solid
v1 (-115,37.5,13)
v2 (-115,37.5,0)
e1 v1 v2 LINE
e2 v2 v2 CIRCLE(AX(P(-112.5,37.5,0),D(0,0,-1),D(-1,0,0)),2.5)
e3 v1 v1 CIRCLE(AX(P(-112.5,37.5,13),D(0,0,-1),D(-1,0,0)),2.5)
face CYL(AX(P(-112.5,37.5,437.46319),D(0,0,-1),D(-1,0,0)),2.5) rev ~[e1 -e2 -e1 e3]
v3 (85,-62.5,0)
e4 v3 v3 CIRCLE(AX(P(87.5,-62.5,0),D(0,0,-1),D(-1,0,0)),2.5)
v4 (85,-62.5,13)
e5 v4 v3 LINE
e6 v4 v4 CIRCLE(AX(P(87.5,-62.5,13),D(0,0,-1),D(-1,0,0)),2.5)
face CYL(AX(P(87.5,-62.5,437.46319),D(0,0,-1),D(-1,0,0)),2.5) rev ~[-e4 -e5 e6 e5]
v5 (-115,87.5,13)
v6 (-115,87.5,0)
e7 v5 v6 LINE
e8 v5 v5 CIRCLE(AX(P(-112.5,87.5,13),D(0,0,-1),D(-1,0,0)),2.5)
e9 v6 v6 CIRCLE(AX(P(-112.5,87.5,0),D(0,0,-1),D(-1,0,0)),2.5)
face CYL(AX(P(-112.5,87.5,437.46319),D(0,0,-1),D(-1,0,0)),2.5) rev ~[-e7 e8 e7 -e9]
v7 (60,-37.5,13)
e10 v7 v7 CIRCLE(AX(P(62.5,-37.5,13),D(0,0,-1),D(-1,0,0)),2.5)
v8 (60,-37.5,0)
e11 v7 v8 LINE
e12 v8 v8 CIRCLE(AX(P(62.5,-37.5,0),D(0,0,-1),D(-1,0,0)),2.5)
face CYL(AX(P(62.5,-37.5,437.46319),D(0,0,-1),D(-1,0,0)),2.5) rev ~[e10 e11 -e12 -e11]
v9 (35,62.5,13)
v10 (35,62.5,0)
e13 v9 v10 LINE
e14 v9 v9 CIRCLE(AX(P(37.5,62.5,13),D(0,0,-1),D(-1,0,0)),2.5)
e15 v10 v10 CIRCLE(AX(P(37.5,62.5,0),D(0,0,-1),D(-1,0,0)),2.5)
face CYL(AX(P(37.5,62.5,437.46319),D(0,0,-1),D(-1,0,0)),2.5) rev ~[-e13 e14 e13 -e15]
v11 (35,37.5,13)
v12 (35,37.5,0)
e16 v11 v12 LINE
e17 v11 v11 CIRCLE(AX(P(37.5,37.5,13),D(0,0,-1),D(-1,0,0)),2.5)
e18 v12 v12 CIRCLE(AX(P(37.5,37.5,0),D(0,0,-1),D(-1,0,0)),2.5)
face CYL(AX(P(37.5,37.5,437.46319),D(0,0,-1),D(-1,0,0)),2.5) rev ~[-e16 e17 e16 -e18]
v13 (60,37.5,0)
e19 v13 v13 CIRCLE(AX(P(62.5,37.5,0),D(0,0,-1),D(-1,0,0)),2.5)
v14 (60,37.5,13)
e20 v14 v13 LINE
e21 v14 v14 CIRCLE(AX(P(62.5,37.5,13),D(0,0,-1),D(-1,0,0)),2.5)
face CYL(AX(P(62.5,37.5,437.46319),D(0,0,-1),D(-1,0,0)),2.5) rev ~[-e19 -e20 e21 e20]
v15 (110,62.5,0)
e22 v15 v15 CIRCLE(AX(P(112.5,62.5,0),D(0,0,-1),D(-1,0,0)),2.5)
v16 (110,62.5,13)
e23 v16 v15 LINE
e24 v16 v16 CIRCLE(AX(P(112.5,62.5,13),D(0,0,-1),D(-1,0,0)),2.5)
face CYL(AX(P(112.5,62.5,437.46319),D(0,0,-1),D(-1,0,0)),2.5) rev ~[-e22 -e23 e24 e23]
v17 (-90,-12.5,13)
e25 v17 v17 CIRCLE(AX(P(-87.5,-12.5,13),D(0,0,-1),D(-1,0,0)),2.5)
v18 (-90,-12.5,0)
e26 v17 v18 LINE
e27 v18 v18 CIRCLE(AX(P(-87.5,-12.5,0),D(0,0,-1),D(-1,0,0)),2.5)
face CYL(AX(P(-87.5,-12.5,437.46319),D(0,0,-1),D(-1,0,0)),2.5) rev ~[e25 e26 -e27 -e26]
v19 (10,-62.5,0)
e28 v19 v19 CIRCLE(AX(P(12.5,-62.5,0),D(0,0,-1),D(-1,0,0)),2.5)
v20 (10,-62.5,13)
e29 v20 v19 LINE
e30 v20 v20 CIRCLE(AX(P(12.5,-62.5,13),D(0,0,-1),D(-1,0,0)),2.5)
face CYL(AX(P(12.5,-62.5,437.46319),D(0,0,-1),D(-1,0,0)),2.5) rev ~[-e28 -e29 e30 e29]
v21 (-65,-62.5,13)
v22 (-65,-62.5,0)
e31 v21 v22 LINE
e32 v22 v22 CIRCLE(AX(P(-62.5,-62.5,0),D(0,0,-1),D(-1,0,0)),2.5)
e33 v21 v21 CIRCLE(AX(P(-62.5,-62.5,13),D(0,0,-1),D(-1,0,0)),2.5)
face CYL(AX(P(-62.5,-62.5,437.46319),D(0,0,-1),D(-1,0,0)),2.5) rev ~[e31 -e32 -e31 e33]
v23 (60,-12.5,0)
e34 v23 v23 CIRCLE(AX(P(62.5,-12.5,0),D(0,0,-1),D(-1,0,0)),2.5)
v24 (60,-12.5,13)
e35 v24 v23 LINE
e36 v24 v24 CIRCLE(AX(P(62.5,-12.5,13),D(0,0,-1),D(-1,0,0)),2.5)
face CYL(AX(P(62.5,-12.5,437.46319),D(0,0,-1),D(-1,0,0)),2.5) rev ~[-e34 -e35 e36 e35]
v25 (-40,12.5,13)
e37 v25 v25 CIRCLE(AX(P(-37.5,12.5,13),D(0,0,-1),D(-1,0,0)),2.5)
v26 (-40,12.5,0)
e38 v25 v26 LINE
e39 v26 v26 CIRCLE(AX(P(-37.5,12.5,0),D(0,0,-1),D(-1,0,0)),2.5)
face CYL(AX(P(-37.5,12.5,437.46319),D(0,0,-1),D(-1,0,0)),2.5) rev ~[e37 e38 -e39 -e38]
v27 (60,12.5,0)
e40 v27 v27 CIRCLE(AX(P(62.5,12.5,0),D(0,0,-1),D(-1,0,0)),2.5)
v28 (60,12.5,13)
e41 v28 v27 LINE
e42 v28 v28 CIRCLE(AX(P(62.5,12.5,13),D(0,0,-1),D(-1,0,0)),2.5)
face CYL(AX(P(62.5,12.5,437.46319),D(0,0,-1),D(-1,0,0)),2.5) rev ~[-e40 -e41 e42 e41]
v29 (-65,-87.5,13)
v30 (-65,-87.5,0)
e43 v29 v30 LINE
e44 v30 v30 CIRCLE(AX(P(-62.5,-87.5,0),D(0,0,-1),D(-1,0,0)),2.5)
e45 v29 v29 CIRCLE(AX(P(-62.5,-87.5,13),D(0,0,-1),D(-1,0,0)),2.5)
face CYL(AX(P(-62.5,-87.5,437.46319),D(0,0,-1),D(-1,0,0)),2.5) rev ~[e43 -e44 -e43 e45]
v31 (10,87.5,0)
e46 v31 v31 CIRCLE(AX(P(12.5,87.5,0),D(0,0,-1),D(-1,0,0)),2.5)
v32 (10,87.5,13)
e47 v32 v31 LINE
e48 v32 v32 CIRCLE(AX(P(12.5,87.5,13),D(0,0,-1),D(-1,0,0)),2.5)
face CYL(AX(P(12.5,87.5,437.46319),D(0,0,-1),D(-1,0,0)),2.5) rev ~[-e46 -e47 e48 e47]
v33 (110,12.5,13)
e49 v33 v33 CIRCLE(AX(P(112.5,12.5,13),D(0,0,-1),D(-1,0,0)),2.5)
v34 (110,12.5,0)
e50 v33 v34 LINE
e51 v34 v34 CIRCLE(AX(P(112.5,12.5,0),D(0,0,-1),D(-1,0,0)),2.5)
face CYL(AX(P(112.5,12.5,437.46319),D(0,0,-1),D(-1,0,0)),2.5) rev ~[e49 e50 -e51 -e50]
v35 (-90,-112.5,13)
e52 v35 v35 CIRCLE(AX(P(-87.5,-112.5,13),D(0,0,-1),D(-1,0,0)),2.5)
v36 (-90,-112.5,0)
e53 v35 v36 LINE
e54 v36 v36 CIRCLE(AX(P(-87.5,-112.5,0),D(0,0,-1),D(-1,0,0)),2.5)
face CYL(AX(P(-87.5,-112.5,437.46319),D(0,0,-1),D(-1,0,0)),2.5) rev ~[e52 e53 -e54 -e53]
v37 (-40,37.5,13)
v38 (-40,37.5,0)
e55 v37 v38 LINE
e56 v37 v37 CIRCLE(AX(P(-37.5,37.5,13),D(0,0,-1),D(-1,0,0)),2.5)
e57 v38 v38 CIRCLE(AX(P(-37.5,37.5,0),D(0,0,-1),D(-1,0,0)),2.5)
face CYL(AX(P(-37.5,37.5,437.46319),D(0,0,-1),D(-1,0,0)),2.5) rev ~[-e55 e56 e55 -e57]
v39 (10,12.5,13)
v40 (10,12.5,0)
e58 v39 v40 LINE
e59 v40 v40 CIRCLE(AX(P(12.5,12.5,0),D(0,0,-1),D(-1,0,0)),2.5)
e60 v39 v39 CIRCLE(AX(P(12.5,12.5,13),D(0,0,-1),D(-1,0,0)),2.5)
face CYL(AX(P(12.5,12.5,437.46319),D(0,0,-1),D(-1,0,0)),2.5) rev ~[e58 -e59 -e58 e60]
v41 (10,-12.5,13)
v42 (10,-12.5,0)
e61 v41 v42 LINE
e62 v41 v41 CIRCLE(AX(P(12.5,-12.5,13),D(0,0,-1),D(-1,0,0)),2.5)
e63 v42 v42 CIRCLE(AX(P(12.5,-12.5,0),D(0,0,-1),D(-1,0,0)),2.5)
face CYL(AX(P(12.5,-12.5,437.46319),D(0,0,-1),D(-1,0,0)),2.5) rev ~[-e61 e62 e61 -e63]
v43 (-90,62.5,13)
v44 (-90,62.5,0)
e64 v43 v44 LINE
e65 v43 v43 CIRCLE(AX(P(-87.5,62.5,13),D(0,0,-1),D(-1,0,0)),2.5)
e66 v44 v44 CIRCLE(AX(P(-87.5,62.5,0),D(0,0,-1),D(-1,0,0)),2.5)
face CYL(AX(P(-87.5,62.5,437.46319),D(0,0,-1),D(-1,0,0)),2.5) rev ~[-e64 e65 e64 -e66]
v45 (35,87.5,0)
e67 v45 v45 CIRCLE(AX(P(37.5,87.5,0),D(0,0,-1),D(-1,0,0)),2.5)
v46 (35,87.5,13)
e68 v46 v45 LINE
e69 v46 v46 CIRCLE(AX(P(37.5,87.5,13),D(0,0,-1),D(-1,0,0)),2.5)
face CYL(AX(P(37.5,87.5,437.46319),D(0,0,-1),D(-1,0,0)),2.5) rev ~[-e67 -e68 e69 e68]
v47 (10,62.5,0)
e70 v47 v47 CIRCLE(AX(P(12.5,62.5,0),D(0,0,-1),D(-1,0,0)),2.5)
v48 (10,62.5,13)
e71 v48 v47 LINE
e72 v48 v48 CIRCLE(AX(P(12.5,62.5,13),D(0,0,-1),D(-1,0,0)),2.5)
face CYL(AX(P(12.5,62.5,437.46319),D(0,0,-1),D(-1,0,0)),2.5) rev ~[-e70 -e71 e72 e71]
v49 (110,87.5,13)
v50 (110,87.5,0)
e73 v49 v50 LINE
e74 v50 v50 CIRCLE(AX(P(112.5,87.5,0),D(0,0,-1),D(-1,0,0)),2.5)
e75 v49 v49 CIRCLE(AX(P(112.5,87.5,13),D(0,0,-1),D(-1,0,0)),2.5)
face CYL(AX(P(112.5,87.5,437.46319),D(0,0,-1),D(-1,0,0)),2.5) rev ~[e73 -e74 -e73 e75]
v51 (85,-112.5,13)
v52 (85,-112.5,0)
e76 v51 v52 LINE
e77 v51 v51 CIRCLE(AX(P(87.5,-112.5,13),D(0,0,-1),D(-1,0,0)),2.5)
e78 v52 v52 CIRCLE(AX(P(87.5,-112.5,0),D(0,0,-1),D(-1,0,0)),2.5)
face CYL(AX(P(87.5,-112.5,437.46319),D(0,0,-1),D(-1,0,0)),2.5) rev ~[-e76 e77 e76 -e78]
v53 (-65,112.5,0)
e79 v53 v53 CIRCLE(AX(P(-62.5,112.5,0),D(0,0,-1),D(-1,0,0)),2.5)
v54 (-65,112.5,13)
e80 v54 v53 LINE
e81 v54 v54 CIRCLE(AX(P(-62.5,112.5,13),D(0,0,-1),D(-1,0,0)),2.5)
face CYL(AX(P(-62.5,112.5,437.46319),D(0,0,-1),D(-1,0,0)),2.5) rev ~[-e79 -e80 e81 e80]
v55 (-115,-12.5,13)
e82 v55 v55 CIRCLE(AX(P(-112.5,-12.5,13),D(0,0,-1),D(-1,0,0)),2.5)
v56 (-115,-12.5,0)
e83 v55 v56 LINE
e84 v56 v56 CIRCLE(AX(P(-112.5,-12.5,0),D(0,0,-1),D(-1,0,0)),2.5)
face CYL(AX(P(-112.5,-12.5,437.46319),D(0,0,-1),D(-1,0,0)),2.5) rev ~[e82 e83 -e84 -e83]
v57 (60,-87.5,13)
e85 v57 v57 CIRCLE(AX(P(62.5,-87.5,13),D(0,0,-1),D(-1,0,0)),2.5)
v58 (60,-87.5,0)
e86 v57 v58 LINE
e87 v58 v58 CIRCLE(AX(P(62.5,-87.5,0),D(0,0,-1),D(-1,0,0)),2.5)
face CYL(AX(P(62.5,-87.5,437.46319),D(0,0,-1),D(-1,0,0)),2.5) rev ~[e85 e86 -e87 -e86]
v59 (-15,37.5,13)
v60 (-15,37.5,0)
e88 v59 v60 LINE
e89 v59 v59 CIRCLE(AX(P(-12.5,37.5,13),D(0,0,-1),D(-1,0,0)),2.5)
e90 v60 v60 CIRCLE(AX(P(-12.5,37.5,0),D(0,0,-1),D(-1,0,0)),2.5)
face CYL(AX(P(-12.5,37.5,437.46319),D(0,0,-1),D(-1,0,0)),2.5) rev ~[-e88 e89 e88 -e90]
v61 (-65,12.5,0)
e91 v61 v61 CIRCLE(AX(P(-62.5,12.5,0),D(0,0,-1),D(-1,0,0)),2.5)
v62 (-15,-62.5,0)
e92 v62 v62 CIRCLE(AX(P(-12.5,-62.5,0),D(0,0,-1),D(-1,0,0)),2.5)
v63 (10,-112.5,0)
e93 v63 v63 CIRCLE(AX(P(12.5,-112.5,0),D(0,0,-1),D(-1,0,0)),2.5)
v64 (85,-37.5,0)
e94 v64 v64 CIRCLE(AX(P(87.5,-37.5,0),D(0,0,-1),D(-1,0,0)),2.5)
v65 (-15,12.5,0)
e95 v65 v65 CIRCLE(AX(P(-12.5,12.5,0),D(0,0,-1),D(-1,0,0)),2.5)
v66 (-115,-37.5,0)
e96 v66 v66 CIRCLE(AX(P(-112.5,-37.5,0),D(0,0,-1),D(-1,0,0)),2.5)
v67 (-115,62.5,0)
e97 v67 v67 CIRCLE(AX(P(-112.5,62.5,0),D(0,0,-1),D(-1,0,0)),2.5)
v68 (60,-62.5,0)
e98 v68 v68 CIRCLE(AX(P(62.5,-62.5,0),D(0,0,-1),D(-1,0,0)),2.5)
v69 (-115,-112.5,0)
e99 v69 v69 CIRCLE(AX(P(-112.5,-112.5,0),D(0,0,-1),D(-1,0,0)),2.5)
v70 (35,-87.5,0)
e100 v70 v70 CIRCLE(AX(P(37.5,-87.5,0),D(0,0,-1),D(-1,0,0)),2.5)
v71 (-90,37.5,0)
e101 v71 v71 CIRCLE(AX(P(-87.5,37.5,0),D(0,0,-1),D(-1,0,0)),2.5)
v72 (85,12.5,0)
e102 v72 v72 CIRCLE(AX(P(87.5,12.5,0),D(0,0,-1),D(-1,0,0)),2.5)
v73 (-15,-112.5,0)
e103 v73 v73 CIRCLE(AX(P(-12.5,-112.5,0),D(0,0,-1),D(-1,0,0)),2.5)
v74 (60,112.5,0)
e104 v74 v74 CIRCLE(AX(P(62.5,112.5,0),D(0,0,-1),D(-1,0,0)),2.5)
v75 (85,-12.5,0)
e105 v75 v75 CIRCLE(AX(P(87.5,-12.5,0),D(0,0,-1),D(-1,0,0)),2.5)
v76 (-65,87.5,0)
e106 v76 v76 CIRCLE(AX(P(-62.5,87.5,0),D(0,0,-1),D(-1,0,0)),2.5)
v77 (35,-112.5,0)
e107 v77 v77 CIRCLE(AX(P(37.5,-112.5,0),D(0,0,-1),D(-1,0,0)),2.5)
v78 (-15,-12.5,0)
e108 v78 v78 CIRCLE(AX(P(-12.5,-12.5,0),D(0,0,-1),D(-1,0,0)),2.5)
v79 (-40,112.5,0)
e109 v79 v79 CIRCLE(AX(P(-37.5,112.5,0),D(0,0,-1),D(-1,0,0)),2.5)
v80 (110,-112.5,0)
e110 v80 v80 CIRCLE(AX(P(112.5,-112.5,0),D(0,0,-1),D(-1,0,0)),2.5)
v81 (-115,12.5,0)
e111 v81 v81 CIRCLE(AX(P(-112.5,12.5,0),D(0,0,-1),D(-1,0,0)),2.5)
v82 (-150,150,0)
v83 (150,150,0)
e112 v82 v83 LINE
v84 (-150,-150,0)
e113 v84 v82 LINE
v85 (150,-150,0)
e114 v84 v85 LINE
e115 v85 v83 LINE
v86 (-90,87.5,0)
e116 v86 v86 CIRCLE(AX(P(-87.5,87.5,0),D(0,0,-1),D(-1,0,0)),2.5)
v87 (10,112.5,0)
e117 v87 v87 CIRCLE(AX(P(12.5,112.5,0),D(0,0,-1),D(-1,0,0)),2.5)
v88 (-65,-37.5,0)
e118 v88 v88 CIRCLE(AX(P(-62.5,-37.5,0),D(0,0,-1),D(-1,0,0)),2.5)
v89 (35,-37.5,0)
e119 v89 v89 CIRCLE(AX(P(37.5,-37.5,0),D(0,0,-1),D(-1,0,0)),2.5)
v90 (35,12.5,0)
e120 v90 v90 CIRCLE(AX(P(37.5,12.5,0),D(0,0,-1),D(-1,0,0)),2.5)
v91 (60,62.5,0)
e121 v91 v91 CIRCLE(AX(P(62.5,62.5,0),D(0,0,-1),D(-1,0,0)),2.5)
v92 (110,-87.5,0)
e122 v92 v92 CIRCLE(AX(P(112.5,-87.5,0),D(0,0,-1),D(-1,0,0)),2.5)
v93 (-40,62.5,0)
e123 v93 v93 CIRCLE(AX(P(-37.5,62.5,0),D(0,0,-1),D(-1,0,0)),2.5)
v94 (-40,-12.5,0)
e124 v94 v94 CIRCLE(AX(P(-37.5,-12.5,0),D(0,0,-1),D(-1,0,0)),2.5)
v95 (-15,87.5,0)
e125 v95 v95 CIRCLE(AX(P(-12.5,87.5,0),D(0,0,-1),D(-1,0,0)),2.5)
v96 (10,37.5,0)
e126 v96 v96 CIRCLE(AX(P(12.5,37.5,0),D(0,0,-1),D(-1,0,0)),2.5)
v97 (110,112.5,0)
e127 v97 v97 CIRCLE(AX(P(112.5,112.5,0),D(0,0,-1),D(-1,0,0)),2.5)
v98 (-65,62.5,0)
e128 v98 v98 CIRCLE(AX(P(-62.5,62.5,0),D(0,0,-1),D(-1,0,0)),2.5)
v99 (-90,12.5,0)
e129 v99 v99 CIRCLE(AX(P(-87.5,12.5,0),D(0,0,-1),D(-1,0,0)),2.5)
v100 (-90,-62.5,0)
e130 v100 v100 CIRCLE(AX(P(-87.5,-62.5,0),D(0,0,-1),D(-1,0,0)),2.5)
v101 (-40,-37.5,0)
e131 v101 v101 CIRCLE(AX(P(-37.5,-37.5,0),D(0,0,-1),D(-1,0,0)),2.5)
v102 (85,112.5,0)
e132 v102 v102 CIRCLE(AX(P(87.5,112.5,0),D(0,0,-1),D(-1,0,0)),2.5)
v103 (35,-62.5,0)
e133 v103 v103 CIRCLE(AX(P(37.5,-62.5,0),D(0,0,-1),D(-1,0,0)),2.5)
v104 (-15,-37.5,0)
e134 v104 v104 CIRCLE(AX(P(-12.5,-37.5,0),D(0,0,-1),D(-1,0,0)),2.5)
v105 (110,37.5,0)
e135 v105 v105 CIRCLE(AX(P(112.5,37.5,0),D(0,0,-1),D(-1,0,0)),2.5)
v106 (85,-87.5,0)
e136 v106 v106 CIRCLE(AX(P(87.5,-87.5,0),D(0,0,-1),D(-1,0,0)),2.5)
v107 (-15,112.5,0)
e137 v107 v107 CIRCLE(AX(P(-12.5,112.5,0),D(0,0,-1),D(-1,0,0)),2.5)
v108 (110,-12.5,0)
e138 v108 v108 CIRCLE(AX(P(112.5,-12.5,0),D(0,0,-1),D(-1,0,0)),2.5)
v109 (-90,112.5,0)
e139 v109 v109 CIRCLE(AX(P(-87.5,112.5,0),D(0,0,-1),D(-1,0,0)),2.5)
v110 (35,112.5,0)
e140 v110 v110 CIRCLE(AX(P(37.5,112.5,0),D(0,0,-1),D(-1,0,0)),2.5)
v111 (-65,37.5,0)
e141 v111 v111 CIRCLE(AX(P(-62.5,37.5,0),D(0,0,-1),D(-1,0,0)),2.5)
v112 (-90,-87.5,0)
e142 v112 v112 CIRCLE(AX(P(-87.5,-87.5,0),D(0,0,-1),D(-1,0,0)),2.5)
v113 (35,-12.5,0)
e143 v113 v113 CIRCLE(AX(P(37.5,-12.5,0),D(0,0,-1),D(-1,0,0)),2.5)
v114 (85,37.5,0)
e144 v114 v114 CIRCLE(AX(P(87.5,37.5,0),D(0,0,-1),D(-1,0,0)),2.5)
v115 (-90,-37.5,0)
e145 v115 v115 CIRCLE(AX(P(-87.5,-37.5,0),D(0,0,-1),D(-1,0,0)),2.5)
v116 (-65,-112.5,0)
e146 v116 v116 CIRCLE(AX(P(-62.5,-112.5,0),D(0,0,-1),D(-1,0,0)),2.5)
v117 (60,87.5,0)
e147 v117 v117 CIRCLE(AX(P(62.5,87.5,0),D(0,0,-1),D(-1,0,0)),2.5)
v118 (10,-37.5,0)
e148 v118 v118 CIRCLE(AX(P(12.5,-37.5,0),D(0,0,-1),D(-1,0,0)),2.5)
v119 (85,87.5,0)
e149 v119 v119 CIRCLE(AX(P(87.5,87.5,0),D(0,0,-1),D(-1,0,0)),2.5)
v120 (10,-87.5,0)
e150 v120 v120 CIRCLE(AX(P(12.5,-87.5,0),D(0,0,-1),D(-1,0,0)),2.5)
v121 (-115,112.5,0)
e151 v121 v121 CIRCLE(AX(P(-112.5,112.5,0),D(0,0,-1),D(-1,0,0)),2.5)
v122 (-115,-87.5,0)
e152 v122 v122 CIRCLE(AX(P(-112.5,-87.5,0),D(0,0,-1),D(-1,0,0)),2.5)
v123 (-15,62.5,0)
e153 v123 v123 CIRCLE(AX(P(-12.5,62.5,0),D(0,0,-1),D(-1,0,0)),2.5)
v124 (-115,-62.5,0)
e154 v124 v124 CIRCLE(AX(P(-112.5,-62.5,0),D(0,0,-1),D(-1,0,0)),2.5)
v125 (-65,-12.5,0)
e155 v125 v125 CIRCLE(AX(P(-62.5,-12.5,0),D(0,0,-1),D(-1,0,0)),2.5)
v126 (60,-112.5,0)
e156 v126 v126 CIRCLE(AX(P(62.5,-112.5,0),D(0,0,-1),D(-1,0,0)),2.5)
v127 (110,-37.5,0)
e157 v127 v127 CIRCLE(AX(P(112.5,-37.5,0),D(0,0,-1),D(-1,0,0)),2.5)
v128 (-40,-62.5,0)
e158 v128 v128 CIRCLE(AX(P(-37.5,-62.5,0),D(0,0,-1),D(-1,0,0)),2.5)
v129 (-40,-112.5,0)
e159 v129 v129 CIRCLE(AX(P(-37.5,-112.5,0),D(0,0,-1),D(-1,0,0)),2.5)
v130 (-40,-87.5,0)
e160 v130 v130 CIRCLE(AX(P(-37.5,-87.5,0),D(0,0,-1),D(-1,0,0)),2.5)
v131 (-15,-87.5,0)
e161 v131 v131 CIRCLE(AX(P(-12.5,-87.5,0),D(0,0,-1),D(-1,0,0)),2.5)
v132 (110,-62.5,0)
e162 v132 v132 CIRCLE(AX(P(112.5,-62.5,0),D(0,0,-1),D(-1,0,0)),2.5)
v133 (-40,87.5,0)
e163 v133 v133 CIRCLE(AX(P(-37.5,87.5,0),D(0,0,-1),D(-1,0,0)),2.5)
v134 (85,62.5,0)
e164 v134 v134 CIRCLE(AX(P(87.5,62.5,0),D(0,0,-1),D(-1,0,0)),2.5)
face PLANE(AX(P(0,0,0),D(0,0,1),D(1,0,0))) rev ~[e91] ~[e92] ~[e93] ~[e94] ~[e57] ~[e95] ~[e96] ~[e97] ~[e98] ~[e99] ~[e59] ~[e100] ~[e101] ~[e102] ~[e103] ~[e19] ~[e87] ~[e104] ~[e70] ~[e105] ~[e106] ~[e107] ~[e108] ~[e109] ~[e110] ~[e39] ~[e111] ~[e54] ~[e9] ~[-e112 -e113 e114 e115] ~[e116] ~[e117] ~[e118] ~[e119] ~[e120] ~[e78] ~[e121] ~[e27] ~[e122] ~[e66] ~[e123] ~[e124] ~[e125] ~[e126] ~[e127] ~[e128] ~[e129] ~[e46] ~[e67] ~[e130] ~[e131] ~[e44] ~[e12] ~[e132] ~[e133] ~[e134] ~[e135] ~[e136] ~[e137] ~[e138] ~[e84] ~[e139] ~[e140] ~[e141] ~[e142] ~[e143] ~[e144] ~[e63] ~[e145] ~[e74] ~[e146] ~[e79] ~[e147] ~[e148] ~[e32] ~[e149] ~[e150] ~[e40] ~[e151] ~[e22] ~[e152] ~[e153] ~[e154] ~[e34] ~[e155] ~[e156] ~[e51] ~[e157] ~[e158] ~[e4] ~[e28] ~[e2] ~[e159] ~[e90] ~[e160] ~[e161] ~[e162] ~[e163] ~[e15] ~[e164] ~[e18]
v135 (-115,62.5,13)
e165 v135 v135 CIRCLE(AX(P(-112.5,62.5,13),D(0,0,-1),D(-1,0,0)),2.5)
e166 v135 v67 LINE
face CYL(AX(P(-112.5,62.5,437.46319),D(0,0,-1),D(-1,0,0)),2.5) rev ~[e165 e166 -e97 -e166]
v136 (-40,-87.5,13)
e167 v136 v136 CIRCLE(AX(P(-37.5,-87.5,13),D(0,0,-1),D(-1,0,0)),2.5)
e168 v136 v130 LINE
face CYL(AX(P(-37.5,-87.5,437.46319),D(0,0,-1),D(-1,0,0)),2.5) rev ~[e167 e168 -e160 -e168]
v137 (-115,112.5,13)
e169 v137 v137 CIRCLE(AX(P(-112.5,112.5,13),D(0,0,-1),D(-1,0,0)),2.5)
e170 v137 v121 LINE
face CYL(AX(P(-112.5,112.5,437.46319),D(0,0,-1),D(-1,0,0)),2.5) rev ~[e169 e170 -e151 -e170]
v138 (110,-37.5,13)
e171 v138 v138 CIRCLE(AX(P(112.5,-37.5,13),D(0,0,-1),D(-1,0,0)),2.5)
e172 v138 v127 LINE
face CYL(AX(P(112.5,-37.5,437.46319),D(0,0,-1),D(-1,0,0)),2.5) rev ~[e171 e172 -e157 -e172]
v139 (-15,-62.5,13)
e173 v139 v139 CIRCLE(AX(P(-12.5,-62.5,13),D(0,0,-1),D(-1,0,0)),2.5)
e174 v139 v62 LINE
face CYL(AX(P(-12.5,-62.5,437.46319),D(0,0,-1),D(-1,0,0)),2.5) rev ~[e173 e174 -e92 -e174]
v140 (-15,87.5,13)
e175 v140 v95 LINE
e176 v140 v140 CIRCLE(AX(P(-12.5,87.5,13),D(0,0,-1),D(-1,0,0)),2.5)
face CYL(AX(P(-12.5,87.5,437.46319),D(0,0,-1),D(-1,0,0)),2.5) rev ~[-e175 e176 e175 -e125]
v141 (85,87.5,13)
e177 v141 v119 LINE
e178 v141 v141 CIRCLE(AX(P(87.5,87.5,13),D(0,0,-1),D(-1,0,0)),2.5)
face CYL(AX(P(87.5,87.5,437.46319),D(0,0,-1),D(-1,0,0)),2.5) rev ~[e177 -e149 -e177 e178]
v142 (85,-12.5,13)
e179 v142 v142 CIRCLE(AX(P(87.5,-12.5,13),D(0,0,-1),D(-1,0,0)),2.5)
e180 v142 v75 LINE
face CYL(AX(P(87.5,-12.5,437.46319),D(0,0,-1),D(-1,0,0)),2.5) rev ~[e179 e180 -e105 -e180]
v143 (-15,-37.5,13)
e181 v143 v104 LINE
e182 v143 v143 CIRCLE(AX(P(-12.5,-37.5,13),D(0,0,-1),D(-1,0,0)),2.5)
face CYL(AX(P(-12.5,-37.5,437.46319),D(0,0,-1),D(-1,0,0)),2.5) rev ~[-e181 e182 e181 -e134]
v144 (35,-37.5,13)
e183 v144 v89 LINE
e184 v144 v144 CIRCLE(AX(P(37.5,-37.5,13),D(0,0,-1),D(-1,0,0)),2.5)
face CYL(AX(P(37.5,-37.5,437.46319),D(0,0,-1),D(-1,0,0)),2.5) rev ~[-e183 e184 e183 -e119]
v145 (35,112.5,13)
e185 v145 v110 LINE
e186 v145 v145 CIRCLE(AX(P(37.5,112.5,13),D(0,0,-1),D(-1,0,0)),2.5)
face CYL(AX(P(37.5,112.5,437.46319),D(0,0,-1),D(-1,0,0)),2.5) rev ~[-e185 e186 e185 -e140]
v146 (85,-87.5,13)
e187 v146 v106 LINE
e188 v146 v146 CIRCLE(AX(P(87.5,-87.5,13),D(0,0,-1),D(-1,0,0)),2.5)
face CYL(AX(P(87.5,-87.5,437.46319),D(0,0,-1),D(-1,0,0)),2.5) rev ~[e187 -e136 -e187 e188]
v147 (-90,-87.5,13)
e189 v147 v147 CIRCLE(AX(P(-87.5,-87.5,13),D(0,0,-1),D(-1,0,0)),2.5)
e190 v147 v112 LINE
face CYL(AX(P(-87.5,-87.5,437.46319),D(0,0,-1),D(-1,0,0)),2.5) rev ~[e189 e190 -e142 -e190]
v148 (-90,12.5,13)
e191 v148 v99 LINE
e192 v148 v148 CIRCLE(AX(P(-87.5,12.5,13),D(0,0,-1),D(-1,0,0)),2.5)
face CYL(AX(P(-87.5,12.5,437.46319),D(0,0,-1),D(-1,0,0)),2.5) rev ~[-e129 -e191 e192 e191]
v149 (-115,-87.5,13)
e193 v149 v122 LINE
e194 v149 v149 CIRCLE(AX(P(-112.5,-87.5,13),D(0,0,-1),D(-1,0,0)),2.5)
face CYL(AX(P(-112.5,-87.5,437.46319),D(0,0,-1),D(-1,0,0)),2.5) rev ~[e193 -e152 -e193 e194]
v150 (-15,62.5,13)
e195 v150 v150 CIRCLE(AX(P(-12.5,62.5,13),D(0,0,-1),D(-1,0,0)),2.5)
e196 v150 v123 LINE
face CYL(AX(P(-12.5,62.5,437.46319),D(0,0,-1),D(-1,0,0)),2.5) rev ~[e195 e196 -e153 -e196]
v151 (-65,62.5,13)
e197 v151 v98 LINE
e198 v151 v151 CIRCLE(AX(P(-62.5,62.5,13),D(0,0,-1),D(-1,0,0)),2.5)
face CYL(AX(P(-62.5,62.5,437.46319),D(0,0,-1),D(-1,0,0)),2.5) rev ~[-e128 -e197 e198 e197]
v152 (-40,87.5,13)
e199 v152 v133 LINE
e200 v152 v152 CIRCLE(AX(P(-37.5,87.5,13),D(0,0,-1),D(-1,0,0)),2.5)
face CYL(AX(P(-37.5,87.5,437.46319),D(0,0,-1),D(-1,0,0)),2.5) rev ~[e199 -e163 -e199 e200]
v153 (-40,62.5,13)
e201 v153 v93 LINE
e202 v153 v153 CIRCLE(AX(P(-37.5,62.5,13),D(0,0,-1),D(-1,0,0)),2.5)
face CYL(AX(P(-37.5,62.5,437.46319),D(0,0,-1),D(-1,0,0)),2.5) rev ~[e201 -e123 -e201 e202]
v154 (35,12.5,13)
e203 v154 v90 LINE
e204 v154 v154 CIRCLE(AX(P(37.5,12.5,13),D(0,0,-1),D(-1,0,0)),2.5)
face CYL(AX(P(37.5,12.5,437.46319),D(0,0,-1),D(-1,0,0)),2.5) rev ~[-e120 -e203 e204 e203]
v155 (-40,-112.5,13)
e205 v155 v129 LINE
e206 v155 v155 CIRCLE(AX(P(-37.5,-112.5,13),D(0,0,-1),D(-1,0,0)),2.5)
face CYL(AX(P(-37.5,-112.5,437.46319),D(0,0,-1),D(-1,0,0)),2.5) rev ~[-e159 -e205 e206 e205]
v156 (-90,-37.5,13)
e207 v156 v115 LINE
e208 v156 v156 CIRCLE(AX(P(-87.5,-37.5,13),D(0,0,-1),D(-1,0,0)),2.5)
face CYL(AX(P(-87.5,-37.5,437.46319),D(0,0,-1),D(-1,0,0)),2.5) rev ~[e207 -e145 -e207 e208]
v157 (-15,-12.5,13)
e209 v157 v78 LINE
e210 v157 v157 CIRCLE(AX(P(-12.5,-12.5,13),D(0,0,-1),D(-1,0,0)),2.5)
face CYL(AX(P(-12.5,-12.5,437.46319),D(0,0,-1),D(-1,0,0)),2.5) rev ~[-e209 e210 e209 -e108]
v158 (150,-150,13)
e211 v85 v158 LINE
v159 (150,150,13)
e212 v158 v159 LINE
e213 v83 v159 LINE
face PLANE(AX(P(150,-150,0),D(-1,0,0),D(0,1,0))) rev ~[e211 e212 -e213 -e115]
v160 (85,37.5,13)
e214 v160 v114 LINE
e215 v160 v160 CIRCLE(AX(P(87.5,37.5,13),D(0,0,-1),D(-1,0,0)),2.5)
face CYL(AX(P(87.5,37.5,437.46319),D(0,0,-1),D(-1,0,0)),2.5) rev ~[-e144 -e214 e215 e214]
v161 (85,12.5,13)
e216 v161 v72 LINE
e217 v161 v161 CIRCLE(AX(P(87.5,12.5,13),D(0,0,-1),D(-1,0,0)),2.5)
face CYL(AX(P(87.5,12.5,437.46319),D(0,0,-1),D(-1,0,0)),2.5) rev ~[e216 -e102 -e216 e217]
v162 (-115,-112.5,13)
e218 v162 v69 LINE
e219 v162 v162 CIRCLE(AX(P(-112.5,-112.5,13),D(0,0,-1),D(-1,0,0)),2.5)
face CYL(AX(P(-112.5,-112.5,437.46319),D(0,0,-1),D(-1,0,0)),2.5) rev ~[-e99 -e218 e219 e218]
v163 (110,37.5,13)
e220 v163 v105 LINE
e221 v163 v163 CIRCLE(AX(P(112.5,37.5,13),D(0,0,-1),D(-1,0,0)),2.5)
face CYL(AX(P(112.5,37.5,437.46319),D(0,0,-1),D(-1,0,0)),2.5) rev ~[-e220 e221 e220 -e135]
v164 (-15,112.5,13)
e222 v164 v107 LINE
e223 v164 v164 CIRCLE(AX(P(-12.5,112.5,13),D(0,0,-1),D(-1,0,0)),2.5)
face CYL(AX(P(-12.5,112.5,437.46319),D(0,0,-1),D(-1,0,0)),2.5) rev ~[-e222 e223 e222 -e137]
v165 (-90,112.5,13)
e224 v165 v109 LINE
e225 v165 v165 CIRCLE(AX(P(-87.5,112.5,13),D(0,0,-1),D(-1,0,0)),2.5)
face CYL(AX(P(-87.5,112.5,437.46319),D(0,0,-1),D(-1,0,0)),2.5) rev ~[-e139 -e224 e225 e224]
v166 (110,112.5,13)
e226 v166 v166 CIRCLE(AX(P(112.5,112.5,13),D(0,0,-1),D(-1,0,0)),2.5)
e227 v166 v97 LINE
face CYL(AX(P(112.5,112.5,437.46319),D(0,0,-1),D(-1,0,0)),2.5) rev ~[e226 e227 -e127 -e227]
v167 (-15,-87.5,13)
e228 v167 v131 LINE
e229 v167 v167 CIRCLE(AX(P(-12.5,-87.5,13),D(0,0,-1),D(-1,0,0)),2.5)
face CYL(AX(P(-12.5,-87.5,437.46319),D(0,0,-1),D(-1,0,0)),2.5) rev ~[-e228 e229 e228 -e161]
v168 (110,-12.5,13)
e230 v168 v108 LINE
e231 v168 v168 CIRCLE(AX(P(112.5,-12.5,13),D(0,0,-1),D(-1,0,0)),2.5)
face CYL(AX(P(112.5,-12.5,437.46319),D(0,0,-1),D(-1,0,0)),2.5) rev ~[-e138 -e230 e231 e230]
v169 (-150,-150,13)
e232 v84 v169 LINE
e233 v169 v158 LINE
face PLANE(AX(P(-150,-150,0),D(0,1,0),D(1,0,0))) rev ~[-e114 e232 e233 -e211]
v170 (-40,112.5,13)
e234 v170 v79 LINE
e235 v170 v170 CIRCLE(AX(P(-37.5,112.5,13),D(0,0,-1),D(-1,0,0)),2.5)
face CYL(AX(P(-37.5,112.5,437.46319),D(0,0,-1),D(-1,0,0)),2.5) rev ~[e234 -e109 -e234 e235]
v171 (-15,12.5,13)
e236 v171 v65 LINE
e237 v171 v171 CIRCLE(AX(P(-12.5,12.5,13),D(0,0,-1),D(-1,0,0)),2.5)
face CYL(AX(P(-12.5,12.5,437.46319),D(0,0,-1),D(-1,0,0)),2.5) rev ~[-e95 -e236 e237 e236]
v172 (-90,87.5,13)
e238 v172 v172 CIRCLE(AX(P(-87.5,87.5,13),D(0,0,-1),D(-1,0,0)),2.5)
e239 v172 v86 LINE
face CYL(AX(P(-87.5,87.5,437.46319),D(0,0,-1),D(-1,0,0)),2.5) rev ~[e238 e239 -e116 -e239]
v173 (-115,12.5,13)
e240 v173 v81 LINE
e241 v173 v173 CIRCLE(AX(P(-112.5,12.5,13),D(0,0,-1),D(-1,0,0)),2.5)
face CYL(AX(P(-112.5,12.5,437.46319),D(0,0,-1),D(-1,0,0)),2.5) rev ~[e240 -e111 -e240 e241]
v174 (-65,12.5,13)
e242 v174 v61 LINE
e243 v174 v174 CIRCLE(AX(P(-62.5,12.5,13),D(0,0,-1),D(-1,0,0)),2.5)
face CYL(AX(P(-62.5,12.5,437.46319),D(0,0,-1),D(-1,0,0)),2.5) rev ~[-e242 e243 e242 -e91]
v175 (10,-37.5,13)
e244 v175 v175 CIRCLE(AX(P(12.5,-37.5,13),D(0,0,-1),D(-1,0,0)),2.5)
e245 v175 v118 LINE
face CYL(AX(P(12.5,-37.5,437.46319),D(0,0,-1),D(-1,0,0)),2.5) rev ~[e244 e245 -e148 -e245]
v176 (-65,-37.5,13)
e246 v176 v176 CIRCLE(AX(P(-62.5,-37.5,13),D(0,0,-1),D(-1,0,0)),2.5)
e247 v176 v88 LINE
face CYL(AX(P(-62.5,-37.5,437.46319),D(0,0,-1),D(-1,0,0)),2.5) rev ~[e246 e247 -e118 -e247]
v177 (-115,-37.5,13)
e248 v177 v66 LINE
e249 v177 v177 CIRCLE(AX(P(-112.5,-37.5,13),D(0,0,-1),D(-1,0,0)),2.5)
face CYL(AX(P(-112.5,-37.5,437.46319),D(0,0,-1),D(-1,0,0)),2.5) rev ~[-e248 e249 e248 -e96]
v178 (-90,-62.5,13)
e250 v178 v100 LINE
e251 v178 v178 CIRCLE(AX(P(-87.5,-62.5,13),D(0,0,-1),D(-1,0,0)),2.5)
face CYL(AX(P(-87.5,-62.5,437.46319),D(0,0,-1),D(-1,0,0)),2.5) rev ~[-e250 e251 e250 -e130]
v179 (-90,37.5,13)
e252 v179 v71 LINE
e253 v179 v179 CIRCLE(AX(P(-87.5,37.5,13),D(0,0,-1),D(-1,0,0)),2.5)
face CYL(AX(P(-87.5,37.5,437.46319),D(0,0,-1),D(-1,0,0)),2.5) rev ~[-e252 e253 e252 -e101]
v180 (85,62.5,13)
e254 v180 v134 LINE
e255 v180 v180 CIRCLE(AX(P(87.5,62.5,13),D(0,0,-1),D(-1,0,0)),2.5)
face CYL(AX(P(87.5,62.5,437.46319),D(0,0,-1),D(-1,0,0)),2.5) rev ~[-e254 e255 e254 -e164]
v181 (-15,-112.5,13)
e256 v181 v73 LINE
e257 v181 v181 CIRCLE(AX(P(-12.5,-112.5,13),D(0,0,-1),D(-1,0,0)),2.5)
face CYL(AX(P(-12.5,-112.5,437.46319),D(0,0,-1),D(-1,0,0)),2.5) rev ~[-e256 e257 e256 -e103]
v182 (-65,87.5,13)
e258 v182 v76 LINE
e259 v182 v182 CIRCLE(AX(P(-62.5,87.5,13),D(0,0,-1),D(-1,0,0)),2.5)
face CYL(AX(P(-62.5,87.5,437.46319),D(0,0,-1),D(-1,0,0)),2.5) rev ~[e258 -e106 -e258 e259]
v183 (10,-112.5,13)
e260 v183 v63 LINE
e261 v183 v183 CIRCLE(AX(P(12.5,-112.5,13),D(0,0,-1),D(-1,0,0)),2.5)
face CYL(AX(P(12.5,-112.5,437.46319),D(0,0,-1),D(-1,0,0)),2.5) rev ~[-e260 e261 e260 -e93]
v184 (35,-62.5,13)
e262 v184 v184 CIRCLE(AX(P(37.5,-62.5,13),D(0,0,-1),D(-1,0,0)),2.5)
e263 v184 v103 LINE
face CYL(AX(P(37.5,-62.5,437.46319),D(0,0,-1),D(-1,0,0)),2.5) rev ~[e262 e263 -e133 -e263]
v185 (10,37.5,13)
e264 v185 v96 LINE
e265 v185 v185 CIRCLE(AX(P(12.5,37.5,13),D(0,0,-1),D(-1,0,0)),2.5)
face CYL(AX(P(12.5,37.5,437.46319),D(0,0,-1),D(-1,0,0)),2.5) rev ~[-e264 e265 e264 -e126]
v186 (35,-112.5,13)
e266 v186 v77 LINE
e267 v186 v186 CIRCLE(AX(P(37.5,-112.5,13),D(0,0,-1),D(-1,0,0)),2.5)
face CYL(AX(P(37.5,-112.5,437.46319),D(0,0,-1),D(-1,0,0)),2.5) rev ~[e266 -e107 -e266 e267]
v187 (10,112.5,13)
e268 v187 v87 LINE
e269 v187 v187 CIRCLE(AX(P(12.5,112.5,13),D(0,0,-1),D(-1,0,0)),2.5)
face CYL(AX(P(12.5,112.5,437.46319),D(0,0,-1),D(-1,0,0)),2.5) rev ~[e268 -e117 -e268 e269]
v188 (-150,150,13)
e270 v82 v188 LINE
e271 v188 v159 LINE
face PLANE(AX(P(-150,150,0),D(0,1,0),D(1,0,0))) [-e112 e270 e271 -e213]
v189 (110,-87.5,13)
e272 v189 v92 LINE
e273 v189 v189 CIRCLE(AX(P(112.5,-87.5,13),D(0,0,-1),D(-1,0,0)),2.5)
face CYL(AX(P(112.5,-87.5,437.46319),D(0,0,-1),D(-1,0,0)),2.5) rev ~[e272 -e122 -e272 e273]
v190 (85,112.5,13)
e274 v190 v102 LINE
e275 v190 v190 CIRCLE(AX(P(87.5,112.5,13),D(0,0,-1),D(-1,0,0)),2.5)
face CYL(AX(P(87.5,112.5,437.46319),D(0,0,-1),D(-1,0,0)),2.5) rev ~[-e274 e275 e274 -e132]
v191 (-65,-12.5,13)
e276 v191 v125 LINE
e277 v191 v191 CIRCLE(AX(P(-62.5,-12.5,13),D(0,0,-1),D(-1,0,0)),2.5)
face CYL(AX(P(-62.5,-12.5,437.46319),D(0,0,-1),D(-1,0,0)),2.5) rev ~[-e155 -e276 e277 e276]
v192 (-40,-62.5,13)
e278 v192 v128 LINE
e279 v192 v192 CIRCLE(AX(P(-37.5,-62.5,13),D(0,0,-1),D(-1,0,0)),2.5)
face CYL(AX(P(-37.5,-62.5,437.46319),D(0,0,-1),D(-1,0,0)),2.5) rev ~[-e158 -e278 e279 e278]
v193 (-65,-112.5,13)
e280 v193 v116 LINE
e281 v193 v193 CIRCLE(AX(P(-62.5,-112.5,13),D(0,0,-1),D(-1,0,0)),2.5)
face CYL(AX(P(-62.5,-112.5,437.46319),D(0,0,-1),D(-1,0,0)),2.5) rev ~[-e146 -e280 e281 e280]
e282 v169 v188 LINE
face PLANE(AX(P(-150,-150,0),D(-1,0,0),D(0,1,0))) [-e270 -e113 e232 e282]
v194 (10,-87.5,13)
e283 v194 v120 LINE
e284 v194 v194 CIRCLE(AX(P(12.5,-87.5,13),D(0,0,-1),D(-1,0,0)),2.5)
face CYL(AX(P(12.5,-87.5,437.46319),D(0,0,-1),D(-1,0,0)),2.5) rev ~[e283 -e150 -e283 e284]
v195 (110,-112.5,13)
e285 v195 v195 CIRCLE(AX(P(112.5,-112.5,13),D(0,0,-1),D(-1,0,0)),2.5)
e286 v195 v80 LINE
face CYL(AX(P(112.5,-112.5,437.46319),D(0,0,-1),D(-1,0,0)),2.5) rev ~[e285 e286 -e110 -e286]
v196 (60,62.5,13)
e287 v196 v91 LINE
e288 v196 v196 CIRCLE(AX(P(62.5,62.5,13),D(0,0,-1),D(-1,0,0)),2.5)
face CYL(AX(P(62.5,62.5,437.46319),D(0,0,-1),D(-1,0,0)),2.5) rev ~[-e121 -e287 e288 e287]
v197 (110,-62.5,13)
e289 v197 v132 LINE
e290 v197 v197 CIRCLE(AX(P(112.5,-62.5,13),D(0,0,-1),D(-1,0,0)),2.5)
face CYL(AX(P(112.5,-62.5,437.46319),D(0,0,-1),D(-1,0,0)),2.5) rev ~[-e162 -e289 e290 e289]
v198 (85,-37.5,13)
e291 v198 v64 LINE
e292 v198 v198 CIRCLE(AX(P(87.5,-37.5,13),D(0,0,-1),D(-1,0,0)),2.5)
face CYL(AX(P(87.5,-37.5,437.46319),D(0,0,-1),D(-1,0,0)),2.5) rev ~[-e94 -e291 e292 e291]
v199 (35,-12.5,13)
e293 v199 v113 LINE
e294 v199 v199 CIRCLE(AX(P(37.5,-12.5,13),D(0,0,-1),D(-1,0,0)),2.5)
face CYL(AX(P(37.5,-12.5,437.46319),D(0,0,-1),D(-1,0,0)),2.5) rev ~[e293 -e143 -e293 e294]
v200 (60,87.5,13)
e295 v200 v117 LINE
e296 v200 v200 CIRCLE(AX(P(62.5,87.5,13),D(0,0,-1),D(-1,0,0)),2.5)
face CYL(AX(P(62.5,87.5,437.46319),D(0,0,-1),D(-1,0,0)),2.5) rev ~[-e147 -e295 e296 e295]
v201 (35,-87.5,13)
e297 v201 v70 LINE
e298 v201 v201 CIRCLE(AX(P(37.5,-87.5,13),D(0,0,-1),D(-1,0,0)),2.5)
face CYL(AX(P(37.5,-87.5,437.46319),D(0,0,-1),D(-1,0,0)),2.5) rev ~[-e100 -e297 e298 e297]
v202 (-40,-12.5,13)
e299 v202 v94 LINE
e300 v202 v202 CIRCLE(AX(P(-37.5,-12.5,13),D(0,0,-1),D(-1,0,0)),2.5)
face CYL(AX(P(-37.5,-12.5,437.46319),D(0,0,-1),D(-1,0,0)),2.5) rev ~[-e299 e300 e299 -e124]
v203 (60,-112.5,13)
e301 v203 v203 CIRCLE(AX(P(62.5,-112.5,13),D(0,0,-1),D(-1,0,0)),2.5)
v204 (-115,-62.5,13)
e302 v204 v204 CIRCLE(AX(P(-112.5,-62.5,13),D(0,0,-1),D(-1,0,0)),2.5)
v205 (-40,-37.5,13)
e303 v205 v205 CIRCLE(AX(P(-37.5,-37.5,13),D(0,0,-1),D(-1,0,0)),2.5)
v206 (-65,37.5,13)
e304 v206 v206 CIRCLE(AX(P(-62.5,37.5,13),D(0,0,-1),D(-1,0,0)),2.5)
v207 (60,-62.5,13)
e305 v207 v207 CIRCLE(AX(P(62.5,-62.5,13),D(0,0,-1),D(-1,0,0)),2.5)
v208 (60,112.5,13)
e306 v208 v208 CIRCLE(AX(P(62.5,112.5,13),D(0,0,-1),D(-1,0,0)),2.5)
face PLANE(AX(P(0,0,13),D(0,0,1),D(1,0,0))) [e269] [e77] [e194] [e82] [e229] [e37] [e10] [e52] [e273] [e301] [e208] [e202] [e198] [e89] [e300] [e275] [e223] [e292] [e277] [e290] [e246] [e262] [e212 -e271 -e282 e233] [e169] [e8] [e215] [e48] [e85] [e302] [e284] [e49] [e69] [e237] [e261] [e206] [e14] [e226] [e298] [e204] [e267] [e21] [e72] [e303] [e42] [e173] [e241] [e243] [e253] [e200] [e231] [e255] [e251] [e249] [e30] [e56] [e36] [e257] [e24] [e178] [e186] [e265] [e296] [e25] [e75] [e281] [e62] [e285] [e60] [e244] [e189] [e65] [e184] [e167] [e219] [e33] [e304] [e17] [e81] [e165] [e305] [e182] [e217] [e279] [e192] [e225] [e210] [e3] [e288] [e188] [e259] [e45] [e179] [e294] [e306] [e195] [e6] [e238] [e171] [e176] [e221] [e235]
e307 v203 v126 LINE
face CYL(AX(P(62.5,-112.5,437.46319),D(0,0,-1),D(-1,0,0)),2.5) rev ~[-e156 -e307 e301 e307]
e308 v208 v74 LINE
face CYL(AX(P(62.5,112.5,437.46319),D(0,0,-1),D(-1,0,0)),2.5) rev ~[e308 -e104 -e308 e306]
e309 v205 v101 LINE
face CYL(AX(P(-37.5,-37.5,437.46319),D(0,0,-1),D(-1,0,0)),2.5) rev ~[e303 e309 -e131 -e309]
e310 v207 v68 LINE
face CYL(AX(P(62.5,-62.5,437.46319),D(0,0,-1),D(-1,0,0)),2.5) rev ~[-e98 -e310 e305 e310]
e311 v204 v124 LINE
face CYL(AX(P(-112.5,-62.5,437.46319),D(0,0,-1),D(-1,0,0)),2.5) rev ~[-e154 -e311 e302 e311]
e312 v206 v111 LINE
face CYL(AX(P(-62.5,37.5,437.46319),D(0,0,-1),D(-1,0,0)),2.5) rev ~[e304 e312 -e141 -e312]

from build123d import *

# Parameters (mm, degrees)
SKETCH_1_W                  = 300
SKETCH_1_H                  = 300
EXTRUDE_1_DEPTH             = 13
HOLE_WIZARD_M6_1_D          = 5
PATTERN_LINEAR_1_COUNT      = 10
PATTERN_LINEAR_1_PITCH      = 25
PATTERN_LINEAR_1_COUNT_DIR2 = 10
PATTERN_LINEAR_1_PITCH_DIR2 = 25


with BuildPart() as part:
    # 草图1 → 凸台-拉伸1 (new body)
    with BuildSketch(Plane.XY):
        Rectangle(SKETCH_1_W, SKETCH_1_H)
    extrude(amount=EXTRUDE_1_DEPTH)

    # M6 螺纹孔的螺纹孔钻头1 (through all)
    with Locations(Plane.XY.offset(13)):
        with Locations((-112.5, -112.5)):
            hole_wizard_m6_1 = Hole(HOLE_WIZARD_M6_1_D / 2)

    # 阵列(线性)1: Hole Wizard M6 _1 10 × 10
    with Locations(*[(j * PATTERN_LINEAR_1_PITCH_DIR2, i * PATTERN_LINEAR_1_PITCH, 0) for i in range(PATTERN_LINEAR_1_COUNT) for j in range(PATTERN_LINEAR_1_COUNT_DIR2) if (i, j) != (0, 0)]):
        add(hole_wizard_m6_1, mode=Mode.SUBTRACT)


solid = part.part
